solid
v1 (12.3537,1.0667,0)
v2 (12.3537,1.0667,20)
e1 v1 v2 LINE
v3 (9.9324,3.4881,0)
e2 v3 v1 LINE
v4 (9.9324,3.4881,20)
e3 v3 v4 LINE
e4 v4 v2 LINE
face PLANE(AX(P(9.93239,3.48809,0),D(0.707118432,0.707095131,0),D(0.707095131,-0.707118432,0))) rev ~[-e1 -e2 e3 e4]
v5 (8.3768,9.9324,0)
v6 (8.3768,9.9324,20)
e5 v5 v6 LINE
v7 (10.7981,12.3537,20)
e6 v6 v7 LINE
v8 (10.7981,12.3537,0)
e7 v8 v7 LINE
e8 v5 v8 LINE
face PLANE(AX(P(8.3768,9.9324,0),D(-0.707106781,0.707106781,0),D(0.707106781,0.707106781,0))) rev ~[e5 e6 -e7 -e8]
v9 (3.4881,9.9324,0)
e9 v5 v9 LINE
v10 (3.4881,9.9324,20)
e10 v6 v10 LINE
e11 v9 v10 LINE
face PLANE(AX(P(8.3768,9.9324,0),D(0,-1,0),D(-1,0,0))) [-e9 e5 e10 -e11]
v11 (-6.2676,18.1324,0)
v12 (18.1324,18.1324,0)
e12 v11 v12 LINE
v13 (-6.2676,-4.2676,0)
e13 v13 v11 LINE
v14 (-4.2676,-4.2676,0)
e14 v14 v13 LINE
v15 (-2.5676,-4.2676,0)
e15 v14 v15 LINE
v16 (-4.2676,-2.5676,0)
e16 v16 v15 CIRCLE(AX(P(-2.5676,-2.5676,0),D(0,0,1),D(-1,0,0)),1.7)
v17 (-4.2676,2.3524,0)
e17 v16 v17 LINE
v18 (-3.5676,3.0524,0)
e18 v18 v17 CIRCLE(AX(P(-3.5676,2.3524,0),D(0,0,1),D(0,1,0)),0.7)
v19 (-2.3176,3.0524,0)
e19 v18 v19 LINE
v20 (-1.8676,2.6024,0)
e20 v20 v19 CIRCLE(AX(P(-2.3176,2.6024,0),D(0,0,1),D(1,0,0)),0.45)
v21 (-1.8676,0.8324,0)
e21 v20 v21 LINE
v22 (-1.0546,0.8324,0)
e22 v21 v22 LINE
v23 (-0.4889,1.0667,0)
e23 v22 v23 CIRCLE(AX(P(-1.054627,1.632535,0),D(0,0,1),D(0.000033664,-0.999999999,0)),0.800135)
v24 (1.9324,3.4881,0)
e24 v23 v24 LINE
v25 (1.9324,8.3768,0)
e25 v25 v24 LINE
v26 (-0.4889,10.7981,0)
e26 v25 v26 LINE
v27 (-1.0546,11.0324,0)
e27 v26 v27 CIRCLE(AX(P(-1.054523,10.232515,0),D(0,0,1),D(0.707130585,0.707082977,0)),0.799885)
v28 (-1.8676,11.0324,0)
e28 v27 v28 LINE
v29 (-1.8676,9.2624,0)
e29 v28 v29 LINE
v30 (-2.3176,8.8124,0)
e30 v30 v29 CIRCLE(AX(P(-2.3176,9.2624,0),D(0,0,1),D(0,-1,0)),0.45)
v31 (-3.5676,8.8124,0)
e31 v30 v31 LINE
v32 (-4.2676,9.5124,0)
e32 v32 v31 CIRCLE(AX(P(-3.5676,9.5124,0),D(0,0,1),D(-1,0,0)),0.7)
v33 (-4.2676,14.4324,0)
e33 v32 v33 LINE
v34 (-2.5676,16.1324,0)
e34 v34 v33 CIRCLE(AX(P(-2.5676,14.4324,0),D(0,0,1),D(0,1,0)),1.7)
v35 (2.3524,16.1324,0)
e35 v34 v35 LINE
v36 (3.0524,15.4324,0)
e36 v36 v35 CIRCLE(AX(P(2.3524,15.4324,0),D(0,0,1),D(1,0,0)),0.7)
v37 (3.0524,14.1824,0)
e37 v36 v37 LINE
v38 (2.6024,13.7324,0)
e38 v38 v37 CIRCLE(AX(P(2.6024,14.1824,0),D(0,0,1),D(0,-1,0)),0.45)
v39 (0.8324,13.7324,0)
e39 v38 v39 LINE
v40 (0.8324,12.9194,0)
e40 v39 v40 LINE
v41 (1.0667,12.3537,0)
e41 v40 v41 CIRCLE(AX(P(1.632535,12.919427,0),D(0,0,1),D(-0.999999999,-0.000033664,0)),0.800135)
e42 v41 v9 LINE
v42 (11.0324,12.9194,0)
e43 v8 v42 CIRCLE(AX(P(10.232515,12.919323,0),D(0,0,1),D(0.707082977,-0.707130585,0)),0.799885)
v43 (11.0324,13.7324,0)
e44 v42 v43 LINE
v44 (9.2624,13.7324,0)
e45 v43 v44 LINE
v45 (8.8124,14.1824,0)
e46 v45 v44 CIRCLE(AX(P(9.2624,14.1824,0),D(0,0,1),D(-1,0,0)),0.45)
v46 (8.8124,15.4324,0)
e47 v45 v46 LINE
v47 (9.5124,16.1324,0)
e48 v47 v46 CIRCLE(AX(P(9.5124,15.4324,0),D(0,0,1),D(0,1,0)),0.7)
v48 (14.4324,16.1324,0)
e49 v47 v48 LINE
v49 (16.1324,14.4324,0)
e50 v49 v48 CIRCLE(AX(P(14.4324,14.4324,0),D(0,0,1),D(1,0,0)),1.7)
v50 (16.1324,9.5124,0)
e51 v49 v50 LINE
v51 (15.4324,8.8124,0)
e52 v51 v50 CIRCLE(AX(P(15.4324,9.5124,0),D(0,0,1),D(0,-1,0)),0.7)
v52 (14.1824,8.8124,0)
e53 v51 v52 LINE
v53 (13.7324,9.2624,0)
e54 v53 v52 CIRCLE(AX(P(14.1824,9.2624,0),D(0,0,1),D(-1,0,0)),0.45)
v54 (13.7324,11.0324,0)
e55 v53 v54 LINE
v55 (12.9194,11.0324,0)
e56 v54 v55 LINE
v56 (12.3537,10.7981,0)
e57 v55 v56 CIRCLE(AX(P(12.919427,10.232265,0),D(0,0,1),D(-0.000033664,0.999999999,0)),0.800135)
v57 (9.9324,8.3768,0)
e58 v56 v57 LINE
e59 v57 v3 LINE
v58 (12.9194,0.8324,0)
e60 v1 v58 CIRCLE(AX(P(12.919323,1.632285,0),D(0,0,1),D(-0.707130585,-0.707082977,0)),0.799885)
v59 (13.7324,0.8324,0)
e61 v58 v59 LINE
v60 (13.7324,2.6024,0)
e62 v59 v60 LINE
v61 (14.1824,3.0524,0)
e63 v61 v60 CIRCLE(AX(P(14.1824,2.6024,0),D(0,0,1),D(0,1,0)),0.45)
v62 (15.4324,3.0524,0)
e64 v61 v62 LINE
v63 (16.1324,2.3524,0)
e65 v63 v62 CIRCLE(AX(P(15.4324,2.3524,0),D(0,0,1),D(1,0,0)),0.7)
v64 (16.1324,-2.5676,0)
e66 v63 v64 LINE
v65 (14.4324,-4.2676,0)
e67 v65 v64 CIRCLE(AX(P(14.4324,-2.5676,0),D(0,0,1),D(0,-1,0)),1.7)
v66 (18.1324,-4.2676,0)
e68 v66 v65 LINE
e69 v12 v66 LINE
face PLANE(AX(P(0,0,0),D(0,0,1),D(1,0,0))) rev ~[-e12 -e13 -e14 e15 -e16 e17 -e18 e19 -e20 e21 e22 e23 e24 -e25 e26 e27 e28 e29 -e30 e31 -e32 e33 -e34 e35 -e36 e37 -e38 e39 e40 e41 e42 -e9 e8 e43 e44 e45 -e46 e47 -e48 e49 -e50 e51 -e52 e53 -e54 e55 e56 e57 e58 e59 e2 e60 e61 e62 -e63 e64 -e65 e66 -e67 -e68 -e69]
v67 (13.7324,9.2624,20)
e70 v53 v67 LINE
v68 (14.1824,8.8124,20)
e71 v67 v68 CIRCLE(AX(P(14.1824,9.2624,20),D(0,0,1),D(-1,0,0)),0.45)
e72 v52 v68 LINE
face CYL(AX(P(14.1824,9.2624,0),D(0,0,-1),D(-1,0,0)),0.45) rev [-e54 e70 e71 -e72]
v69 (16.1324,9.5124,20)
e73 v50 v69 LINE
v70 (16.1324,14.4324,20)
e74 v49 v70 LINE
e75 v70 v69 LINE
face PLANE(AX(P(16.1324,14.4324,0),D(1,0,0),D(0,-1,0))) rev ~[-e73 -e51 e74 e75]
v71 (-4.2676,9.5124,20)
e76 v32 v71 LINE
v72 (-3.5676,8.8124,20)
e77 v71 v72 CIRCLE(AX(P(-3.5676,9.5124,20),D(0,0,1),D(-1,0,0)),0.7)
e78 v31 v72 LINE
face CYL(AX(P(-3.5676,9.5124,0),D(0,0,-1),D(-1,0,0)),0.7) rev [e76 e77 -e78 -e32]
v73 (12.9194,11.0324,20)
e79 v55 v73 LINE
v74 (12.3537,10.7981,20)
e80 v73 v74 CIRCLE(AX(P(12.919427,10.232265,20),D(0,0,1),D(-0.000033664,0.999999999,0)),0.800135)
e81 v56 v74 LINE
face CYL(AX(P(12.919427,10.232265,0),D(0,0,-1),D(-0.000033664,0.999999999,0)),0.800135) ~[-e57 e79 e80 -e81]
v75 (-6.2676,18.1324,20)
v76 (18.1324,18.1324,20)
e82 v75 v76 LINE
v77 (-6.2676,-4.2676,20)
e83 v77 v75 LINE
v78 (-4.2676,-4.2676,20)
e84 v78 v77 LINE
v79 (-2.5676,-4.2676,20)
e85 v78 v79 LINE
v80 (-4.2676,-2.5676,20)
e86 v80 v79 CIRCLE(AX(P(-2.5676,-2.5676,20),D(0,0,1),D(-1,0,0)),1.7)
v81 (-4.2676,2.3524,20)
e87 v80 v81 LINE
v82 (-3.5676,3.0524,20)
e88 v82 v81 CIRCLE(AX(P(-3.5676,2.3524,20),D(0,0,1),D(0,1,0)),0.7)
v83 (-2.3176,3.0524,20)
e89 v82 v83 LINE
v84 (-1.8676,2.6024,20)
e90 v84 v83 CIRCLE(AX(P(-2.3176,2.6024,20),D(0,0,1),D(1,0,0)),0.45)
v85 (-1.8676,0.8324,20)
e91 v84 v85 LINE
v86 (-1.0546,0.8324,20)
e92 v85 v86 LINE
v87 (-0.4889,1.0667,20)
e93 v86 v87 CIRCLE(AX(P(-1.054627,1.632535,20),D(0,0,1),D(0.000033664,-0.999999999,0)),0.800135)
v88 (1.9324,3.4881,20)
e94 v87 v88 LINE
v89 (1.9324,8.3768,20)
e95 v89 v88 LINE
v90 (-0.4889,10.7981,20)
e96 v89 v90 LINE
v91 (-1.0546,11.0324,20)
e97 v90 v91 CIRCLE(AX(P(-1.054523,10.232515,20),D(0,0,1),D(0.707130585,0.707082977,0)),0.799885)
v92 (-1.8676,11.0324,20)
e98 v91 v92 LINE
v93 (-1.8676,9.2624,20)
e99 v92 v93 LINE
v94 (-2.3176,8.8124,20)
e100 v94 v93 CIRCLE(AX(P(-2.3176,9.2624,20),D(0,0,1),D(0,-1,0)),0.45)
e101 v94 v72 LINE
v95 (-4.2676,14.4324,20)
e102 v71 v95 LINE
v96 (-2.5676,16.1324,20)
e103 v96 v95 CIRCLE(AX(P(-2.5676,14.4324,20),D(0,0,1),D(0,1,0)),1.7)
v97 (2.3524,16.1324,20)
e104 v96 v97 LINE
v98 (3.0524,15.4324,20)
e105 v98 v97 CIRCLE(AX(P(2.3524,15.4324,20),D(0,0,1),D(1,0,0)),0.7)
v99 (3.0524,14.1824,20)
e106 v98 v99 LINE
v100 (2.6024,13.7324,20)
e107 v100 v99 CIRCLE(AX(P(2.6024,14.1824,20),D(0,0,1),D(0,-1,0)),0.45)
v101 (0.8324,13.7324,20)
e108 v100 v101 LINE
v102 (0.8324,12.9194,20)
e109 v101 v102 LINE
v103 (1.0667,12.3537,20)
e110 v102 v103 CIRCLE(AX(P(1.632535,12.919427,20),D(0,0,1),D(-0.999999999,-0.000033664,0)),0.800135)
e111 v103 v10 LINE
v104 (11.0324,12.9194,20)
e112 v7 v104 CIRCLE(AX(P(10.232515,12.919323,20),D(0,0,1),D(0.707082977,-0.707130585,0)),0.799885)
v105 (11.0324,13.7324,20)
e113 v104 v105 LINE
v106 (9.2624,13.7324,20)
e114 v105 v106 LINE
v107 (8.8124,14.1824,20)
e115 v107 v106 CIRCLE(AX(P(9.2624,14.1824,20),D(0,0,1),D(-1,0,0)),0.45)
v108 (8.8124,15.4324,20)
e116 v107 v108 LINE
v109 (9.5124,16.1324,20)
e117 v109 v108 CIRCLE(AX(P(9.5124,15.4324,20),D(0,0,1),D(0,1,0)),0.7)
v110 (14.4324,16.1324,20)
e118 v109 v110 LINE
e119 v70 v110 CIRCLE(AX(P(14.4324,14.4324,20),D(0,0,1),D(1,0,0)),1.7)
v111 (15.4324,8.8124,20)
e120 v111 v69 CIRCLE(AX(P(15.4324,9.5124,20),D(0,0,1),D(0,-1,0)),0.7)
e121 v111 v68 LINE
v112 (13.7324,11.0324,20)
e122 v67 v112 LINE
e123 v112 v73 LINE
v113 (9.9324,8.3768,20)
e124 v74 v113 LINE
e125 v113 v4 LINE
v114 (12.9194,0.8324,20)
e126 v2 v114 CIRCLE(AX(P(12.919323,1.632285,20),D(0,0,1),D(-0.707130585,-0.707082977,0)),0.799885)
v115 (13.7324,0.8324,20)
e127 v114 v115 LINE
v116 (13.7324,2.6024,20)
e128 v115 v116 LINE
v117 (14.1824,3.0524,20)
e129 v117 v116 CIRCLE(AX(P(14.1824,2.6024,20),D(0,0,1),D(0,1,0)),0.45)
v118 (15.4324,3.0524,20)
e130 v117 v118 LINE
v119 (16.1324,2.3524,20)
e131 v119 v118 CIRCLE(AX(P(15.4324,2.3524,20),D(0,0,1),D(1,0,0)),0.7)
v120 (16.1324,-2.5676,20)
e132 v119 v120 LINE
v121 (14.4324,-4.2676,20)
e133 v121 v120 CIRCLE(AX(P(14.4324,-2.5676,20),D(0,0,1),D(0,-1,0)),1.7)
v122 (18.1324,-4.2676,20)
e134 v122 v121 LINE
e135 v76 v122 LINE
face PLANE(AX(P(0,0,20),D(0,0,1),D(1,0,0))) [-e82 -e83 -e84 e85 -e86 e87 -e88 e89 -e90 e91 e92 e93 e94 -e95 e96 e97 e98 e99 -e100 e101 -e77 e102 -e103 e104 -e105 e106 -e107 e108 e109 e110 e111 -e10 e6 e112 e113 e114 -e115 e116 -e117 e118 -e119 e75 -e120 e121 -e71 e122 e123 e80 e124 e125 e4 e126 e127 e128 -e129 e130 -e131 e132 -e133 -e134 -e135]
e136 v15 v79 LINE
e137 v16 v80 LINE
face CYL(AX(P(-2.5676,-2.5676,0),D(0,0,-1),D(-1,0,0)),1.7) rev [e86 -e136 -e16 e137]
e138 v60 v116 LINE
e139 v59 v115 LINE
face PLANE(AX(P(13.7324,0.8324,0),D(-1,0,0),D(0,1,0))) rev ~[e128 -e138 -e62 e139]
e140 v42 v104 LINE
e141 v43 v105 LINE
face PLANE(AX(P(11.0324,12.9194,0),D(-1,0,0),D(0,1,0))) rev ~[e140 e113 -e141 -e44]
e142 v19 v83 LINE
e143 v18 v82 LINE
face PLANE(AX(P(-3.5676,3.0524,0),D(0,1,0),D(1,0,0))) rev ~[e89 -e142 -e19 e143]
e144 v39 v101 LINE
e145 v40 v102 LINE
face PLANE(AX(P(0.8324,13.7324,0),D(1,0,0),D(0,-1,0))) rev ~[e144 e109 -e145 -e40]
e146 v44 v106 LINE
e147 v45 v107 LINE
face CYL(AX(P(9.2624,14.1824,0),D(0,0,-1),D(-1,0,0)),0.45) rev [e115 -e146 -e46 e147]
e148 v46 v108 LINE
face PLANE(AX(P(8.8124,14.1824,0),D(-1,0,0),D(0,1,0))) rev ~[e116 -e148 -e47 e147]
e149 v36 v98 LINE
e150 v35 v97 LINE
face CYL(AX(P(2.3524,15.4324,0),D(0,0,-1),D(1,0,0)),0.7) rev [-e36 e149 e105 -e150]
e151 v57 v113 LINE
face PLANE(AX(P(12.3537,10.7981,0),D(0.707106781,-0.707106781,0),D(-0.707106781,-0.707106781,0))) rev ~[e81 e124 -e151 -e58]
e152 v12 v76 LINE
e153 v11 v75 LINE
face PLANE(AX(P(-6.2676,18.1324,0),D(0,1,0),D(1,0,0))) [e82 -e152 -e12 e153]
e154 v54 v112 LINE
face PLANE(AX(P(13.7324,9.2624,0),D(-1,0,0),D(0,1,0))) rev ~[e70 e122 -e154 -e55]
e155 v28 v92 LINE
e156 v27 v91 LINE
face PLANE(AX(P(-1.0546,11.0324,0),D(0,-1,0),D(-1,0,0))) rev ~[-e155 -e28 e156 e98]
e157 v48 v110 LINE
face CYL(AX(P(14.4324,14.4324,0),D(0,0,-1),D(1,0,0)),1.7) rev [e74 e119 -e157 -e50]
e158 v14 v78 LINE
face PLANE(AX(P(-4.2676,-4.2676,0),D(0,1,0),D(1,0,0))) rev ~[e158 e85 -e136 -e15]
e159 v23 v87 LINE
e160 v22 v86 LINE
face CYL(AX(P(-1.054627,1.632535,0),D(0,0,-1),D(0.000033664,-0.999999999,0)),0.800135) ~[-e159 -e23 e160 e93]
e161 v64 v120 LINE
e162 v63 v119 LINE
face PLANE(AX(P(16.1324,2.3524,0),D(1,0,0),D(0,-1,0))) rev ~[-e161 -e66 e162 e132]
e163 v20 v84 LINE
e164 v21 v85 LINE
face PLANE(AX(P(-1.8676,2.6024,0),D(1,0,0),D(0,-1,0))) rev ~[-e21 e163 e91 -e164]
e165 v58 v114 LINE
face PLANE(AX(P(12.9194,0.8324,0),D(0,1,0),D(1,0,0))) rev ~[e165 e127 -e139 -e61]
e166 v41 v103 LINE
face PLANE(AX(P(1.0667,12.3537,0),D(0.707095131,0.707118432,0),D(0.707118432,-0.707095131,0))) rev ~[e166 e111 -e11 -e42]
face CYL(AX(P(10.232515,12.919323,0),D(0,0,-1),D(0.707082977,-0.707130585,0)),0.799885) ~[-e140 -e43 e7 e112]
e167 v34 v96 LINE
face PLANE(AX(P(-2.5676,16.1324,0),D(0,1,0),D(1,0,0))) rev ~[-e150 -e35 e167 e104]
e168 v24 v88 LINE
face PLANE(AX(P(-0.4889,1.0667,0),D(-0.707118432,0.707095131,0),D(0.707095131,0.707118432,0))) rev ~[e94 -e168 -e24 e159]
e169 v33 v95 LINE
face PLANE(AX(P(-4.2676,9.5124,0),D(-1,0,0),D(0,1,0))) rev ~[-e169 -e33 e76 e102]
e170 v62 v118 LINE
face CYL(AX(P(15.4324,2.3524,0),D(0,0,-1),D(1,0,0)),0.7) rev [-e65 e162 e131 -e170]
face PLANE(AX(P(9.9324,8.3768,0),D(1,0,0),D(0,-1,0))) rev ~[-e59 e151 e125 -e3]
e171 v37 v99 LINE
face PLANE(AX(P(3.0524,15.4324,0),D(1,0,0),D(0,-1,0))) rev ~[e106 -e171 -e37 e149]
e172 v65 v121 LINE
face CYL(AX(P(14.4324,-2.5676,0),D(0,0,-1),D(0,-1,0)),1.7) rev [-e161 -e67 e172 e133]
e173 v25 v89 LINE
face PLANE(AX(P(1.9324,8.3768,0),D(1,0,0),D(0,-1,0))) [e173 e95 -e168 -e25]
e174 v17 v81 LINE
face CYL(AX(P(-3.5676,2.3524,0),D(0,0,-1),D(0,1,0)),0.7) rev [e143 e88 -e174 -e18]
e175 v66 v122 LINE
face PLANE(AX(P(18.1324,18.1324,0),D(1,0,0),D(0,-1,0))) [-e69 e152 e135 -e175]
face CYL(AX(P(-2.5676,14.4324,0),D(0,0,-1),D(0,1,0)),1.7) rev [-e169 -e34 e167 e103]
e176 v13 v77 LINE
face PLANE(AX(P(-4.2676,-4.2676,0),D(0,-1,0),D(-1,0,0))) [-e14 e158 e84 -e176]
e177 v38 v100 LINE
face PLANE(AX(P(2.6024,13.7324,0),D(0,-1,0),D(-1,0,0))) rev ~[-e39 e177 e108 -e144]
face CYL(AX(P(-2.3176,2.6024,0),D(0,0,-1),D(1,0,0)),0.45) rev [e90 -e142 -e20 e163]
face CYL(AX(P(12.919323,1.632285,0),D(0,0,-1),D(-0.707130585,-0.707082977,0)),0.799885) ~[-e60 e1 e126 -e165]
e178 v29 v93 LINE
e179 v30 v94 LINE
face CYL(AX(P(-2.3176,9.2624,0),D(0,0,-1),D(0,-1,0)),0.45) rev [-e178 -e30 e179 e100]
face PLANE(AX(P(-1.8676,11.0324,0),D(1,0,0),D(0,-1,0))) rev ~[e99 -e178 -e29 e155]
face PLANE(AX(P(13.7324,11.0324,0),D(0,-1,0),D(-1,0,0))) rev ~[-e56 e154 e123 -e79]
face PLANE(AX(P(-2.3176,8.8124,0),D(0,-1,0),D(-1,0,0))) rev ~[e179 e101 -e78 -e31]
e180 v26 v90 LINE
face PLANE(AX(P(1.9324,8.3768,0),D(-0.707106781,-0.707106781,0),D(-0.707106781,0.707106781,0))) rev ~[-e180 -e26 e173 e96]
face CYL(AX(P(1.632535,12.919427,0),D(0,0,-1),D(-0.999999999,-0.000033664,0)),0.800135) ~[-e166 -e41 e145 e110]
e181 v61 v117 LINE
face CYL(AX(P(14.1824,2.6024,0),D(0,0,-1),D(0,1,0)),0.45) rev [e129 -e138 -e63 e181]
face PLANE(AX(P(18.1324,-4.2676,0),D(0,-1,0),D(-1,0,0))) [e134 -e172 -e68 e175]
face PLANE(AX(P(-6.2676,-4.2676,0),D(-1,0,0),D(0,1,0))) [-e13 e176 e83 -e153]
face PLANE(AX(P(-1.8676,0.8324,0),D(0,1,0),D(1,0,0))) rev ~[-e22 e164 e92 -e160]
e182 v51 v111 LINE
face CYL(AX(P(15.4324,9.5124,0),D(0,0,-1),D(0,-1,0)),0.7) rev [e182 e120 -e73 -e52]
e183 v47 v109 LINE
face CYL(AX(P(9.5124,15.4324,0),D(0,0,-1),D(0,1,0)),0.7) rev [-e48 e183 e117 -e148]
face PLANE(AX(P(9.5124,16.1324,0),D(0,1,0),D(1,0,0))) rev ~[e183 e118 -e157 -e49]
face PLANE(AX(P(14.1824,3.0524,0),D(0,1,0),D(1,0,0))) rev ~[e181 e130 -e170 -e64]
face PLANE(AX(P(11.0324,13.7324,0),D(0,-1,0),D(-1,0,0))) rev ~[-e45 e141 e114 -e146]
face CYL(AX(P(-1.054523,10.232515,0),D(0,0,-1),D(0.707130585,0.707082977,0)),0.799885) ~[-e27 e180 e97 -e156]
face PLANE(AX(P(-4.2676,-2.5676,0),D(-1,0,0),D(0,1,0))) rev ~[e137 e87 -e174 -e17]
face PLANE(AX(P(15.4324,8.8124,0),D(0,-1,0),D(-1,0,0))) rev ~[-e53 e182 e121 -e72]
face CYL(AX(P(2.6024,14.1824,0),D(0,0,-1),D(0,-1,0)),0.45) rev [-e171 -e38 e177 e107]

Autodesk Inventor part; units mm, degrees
ref_plane "YZ Plane" through (0, 0, 0) normal (1, 0, 0) x (0, 1, 0)
ref_plane "XZ Plane" through (0, 0, 0) normal (0, 1, 0) x (-1, 0, 0)
ref_plane "XY Plane" through (0, 0, 0) normal (0, 0, 1) x (1, 0, 0)
sketch "Sketch1" plane through (0, 0, 0) normal (0, 0, 1) x (1, 0, 0)
  arc A0 (-1.0546, 0.6324) -> (-0.3475, 0.9253) centre (-1.0546, 1.6324) ccw projected
  line L0 (-1.0546, 0.6324) -> (-1.8676, 0.6324) projected
  arc A1 (-2.0676, 0.8324) -> (-1.8676, 0.6324) centre (-1.8676, 0.8324) ccw projected
  line L1 (-2.0676, 0.8324) -> (-2.0676, 2.6024) projected
  arc A2 (-2.0676, 2.6024) -> (-2.3176, 2.8524) centre (-2.3176, 2.6024) ccw projected
  line L2 (-2.3176, 2.8524) -> (-3.5676, 2.8524) projected
  arc A3 (-3.5676, 2.8524) -> (-4.0676, 2.3524) centre (-3.5676, 2.3524) ccw projected
  line L3 (-4.0676, 2.3524) -> (-4.0676, -2.5676) projected
  arc A4 (-4.0676, -2.5676) -> (-2.5676, -4.0676) centre (-2.5676, -2.5676) ccw projected
  line L4 (-2.5676, -4.0676) -> (2.3524, -4.0676) projected
  arc A5 (2.3524, -4.0676) -> (2.8524, -3.5676) centre (2.3524, -3.5676) ccw projected
  line L5 (2.8524, -3.5676) -> (2.8524, -2.3176) projected
  arc A6 (2.8524, -2.3176) -> (2.6024, -2.0676) centre (2.6024, -2.3176) ccw projected
  line L6 (2.6024, -2.0676) -> (0.8324, -2.0676) projected
  arc A7 (0.6324, -1.8676) -> (0.8324, -2.0676) centre (0.8324, -1.8676) ccw projected
  line L7 (0.6324, -1.8676) -> (0.6324, -1.0546) projected
  arc A8 (0.9253, -0.3475) -> (0.6324, -1.0546) centre (1.6324, -1.0546) ccw projected
  line L8 (0.9253, -0.3475) -> (4.0676, 2.7948) projected
  arc A9 (4.0676, 2.7948) -> (5.6798, 2.2912) centre (5.9324, 5.9324) ccw projected
  line L9 (5.6798, 2.2912) -> (5.9324, 2.491) projected
  line L10 (5.9324, 2.491) -> (6.1851, 2.2912) projected
  arc A10 (6.1851, 2.2912) -> (7.7973, 2.7948) centre (5.9324, 5.9324) ccw projected
  line L11 (7.7973, 2.7948) -> (10.9395, -0.3475) projected
  arc A11 (11.2324, -1.0546) -> (10.9395, -0.3475) centre (10.2324, -1.0546) ccw projected
  line L12 (11.2324, -1.0546) -> (11.2324, -1.8676) projected
  arc A12 (11.0324, -2.0676) -> (11.2324, -1.8676) centre (11.0324, -1.8676) ccw projected
  line L13 (11.0324, -2.0676) -> (9.2624, -2.0676) projected
  arc A13 (9.2624, -2.0676) -> (9.0124, -2.3176) centre (9.2624, -2.3176) ccw projected
  line L14 (9.0124, -2.3176) -> (9.0124, -3.5676) projected
  arc A14 (9.0124, -3.5676) -> (9.5124, -4.0676) centre (9.5124, -3.5676) ccw projected
  line L15 (9.5124, -4.0676) -> (14.4324, -4.0676) projected
  arc A15 (14.4324, -4.0676) -> (15.9324, -2.5676) centre (14.4324, -2.5676) ccw projected
  line L16 (15.9324, -2.5676) -> (15.9324, 2.3524) projected
  arc A16 (15.9324, 2.3524) -> (15.4324, 2.8524) centre (15.4324, 2.3524) ccw projected
  line L17 (15.4324, 2.8524) -> (14.1824, 2.8524) projected
  arc A17 (14.1824, 2.8524) -> (13.9324, 2.6024) centre (14.1824, 2.6024) ccw projected
  line L18 (13.9324, 2.6024) -> (13.9324, 0.8324) projected
  arc A18 (13.7324, 0.6324) -> (13.9324, 0.8324) centre (13.7324, 0.8324) ccw projected
  line L19 (13.7324, 0.6324) -> (12.9194, 0.6324) projected
  arc A19 (12.2123, 0.9253) -> (12.9194, 0.6324) centre (12.9194, 1.6324) ccw projected
  line L20 (12.2123, 0.9253) -> (9.0701, 4.0676) projected
  arc A20 (9.0701, 4.0676) -> (9.5737, 5.6798) centre (5.9324, 5.9324) ccw projected
  line L21 (9.5737, 5.6798) -> (9.3739, 5.9324) projected
  line L22 (9.3739, 5.9324) -> (9.5739, 6.1824) projected
  arc A21 (9.5739, 6.1824) -> (9.0701, 7.7973) centre (5.9324, 5.9324) ccw projected
  line L23 (9.0701, 7.7973) -> (12.2123, 10.9395) projected
  arc A22 (12.9194, 11.2324) -> (12.2123, 10.9395) centre (12.9194, 10.2324) ccw projected
  line L24 (12.9194, 11.2324) -> (13.7324, 11.2324) projected
  arc A23 (13.9324, 11.0324) -> (13.7324, 11.2324) centre (13.7324, 11.0324) ccw projected
  line L25 (13.9324, 11.0324) -> (13.9324, 9.2624) projected
  arc A24 (13.9324, 9.2624) -> (14.1824, 9.0124) centre (14.1824, 9.2624) ccw projected
  line L26 (14.1824, 9.0124) -> (15.4324, 9.0124) projected
  arc A25 (15.4324, 9.0124) -> (15.9324, 9.5124) centre (15.4324, 9.5124) ccw projected
  line L27 (15.9324, 9.5124) -> (15.9324, 14.4324) projected
  arc A26 (15.9324, 14.4324) -> (14.4324, 15.9324) centre (14.4324, 14.4324) ccw projected
  line L28 (14.4324, 15.9324) -> (9.5124, 15.9324) projected
  arc A27 (9.5124, 15.9324) -> (9.0124, 15.4324) centre (9.5124, 15.4324) ccw projected
  line L29 (9.0124, 15.4324) -> (9.0124, 14.1824) projected
  arc A28 (9.0124, 14.1824) -> (9.2624, 13.9324) centre (9.2624, 14.1824) ccw projected
  line L30 (9.2624, 13.9324) -> (11.0324, 13.9324) projected
  arc A29 (11.2324, 13.7324) -> (11.0324, 13.9324) centre (11.0324, 13.7324) ccw projected
  line L31 (11.2324, 13.7324) -> (11.2324, 12.9194) projected
  arc A30 (10.9395, 12.2123) -> (11.2324, 12.9194) centre (10.2324, 12.9194) ccw projected
  line L32 (10.9395, 12.2123) -> (7.7973, 9.0701) projected
  arc A31 (7.7973, 9.0701) -> (6.1824, 9.5739) centre (5.9324, 5.9324) ccw projected
  line L33 (6.1824, 9.5739) -> (5.9324, 9.3739) projected
  line L34 (5.9324, 9.3739) -> (5.6824, 9.5739) projected
  arc A32 (5.6824, 9.5739) -> (4.0676, 9.0701) centre (5.9324, 5.9324) ccw projected
  line L35 (4.0676, 9.0701) -> (0.9253, 12.2123) projected
  arc A33 (0.6324, 12.9194) -> (0.9253, 12.2123) centre (1.6324, 12.9194) ccw projected
  line L36 (0.6324, 12.9194) -> (0.6324, 13.7324) projected
  arc A34 (0.8324, 13.9324) -> (0.6324, 13.7324) centre (0.8324, 13.7324) ccw projected
  line L37 (0.8324, 13.9324) -> (2.6024, 13.9324) projected
  arc A35 (2.6024, 13.9324) -> (2.8524, 14.1824) centre (2.6024, 14.1824) ccw projected
  line L38 (2.8524, 14.1824) -> (2.8524, 15.4324) projected
  arc A36 (2.8524, 15.4324) -> (2.3524, 15.9324) centre (2.3524, 15.4324) ccw projected
  line L39 (2.3524, 15.9324) -> (-2.5676, 15.9324) projected
  arc A37 (-2.5676, 15.9324) -> (-4.0676, 14.4324) centre (-2.5676, 14.4324) ccw projected
  line L40 (-4.0676, 14.4324) -> (-4.0676, 9.5124) projected
  arc A38 (-4.0676, 9.5124) -> (-3.5676, 9.0124) centre (-3.5676, 9.5124) ccw projected
  line L41 (-3.5676, 9.0124) -> (-2.3176, 9.0124) projected
  arc A39 (-2.3176, 9.0124) -> (-2.0676, 9.2624) centre (-2.3176, 9.2624) ccw projected
  line L42 (-2.0676, 9.2624) -> (-2.0676, 11.0324) projected
  arc A40 (-1.8676, 11.2324) -> (-2.0676, 11.0324) centre (-1.8676, 11.0324) ccw projected
  line L43 (-1.8676, 11.2324) -> (-1.0546, 11.2324) projected
  arc A41 (-0.3475, 10.9395) -> (-1.0546, 11.2324) centre (-1.0546, 10.2324) ccw projected
  line L44 (-0.3475, 10.9395) -> (2.7948, 7.7973) projected
  arc A42 (2.7948, 7.7973) -> (2.291, 6.1824) centre (5.9324, 5.9324) ccw projected
  line L45 (2.291, 6.1824) -> (2.491, 5.9324) projected
  line L46 (2.491, 5.9324) -> (2.2912, 5.6798) projected
  arc A43 (2.2912, 5.6798) -> (2.7948, 4.0676) centre (5.9324, 5.9324) ccw projected
  line L47 (2.7948, 4.0676) -> (-0.3475, 0.9253) projected
  circle A44 centre (5.9324, 5.9324) radius 2.5 projected
  line L48 (-1.0546, 11.0324) -> (-1.8676, 11.0324)
  line L49 (-1.8676, 11.0324) -> (-1.8676, 9.2624)
  arc A45 (-2.3176, 8.8124) -> (-1.8676, 9.2624) centre (-2.3176, 9.2624) ccw
  line L50 (-2.3176, 8.8124) -> (-3.5676, 8.8124)
  arc A46 (-4.2676, 9.5124) -> (-3.5676, 8.8124) centre (-3.5676, 9.5124) ccw
  line L51 (-4.2676, 9.5124) -> (-4.2676, 14.4324)
  arc A47 (-2.5676, 16.1324) -> (-4.2676, 14.4324) centre (-2.5676, 14.4324) ccw
  line L52 (-2.5676, 16.1324) -> (2.3524, 16.1324)
  arc A48 (3.0524, 15.4324) -> (2.3524, 16.1324) centre (2.3524, 15.4324) ccw
  line L53 (3.0524, 15.4324) -> (3.0524, 14.1824)
  arc A49 (2.6024, 13.7324) -> (3.0524, 14.1824) centre (2.6024, 14.1824) ccw
  line L54 (2.6024, 13.7324) -> (0.8324, 13.7324)
  line L55 (0.8324, 13.7324) -> (0.8324, 12.9194)
  arc A50 (0.8324, 12.9194) -> (1.0667, 12.3537) centre (1.6324, 12.9194) ccw
  line L56 (1.0667, 12.3537) -> (4.1014, 9.3191)
  arc A51 (5.7474, 9.778) -> (4.1014, 9.3191) centre (5.9324, 5.9324) ccw
  line L57 (5.7474, 9.778) -> (5.9324, 9.63)
  line L58 (5.9324, 9.63) -> (6.1174, 9.778)
  arc A52 (7.7635, 9.3191) -> (6.1174, 9.778) centre (5.9324, 5.9324) ccw
  line L59 (7.7635, 9.3191) -> (10.7981, 12.3537)
  arc A53 (10.7981, 12.3537) -> (11.0324, 12.9194) centre (10.2324, 12.9194) ccw
  line L60 (11.0324, 12.9194) -> (11.0324, 13.7324)
  line L61 (11.0324, 13.7324) -> (9.2624, 13.7324)
  arc A54 (8.8124, 14.1824) -> (9.2624, 13.7324) centre (9.2624, 14.1824) ccw
  line L62 (8.8124, 14.1824) -> (8.8124, 15.4324)
  arc A55 (9.5124, 16.1324) -> (8.8124, 15.4324) centre (9.5124, 15.4324) ccw
  line L63 (9.5124, 16.1324) -> (14.4324, 16.1324)
  arc A56 (16.1324, 14.4324) -> (14.4324, 16.1324) centre (14.4324, 14.4324) ccw
  line L64 (16.1324, 14.4324) -> (16.1324, 9.5124)
  arc A57 (15.4324, 8.8124) -> (16.1324, 9.5124) centre (15.4324, 9.5124) ccw
  line L65 (15.4324, 8.8124) -> (14.1824, 8.8124)
  arc A58 (13.7324, 9.2624) -> (14.1824, 8.8124) centre (14.1824, 9.2624) ccw
  line L66 (13.7324, 9.2624) -> (13.7324, 11.0324)
  line L67 (13.7324, 11.0324) -> (12.9194, 11.0324)
  arc A59 (12.9194, 11.0324) -> (12.3537, 10.7981) centre (12.9194, 10.2324) ccw
  line L68 (12.3537, 10.7981) -> (9.3191, 7.7635)
  arc A60 (9.778, 6.1174) -> (9.3191, 7.7635) centre (5.9324, 5.9324) ccw
  line L69 (9.778, 6.1174) -> (9.6294, 5.9317)
  line L70 (9.6294, 5.9317) -> (9.7778, 5.7441)
  arc A61 (9.3191, 4.1014) -> (9.7778, 5.7441) centre (5.9324, 5.9324) ccw
  line L71 (9.3191, 4.1014) -> (12.3537, 1.0667)
  arc A62 (12.3537, 1.0667) -> (12.9194, 0.8324) centre (12.9194, 1.6324) ccw
  line L72 (12.9194, 0.8324) -> (13.7324, 0.8324)
  line L73 (13.7324, 0.8324) -> (13.7324, 2.6024)
  arc A63 (14.1824, 3.0524) -> (13.7324, 2.6024) centre (14.1824, 2.6024) ccw
  line L74 (14.1824, 3.0524) -> (15.4324, 3.0524)
  arc A64 (16.1324, 2.3524) -> (15.4324, 3.0524) centre (15.4324, 2.3524) ccw
  line L75 (16.1324, 2.3524) -> (16.1324, -2.5676)
  arc A65 (14.4324, -4.2676) -> (16.1324, -2.5676) centre (14.4324, -2.5676) ccw
  line L76 (14.4324, -4.2676) -> (9.5124, -4.2676)
  arc A66 (8.8124, -3.5676) -> (9.5124, -4.2676) centre (9.5124, -3.5676) ccw
  line L77 (8.8124, -3.5676) -> (8.8124, -2.3176)
  arc A67 (9.2624, -1.8676) -> (8.8124, -2.3176) centre (9.2624, -2.3176) ccw
  line L78 (9.2624, -1.8676) -> (11.0324, -1.8676)
  line L79 (11.0324, -1.8676) -> (11.0324, -1.0546)
  arc A68 (11.0324, -1.0546) -> (10.7981, -0.4889) centre (10.2324, -1.0546) ccw
  line L80 (10.7981, -0.4889) -> (7.7635, 2.5457)
  arc A69 (6.1208, 2.087) -> (7.7635, 2.5457) centre (5.9324, 5.9324) ccw
  line L81 (6.1208, 2.087) -> (5.9324, 2.236)
  line L82 (5.9324, 2.236) -> (5.7441, 2.087)
  arc A70 (4.1014, 2.5457) -> (5.7441, 2.087) centre (5.9324, 5.9324) ccw
  line L83 (4.1014, 2.5457) -> (1.0667, -0.4889)
  arc A71 (1.0667, -0.4889) -> (0.8324, -1.0546) centre (1.6324, -1.0546) ccw
  line L84 (0.8324, -1.0546) -> (0.8324, -1.8676)
  line L85 (0.8324, -1.8676) -> (2.6024, -1.8676)
  arc A72 (3.0524, -2.3176) -> (2.6024, -1.8676) centre (2.6024, -2.3176) ccw
  line L86 (3.0524, -2.3176) -> (3.0524, -3.5676)
  arc A73 (2.3524, -4.2676) -> (3.0524, -3.5676) centre (2.3524, -3.5676) ccw
  line L87 (2.3524, -4.2676) -> (-2.5676, -4.2676)
  arc A74 (-4.2676, -2.5676) -> (-2.5676, -4.2676) centre (-2.5676, -2.5676) ccw
  line L88 (-4.2676, -2.5676) -> (-4.2676, 2.3524)
  arc A75 (-3.5676, 3.0524) -> (-4.2676, 2.3524) centre (-3.5676, 2.3524) ccw
  line L89 (-3.5676, 3.0524) -> (-2.3176, 3.0524)
  arc A76 (-1.8676, 2.6024) -> (-2.3176, 3.0524) centre (-2.3176, 2.6024) ccw
  line L90 (-1.8676, 2.6024) -> (-1.8676, 0.8324)
  line L91 (-1.8676, 0.8324) -> (-1.0546, 0.8324)
  arc A77 (-1.0546, 0.8324) -> (-0.4889, 1.0667) centre (-1.0546, 1.6324) ccw
  line L92 (-0.4889, 1.0667) -> (2.5457, 4.1014)
  arc A78 (2.087, 5.7441) -> (2.5457, 4.1014) centre (5.9324, 5.9324) ccw
  line L93 (2.087, 5.7441) -> (2.2354, 5.9317)
  line L94 (2.2354, 5.9317) -> (2.0869, 6.1174)
  arc A79 (2.5457, 7.7635) -> (2.0869, 6.1174) centre (5.9324, 5.9324) ccw
  line L95 (2.5457, 7.7635) -> (-0.4889, 10.7981)
  arc A80 (-0.4889, 10.7981) -> (-1.0546, 11.0324) centre (-1.0546, 10.2324) ccw
  line L96 (-4.2676, -4.2676) -> (-6.2676, -4.2676)
  line L97 (-6.2676, -4.2676) -> (-6.2676, 18.1324)
  line L98 (-6.2676, 18.1324) -> (18.1324, 18.1324)
  line L99 (18.1324, 18.1324) -> (18.1324, -4.2676)
  line L100 (18.1324, -4.2676) -> (14.4324, -4.2676)
  line L101 (-4.2676, -4.2676) -> (-2.5676, -4.2676)
  line L102 (5.9324, 5.9324) -> (1.9324, 5.9324) construction
  line L103 (1.9324, 8.3768) -> (1.9324, 3.4881)
  line L104 (9.9324, 8.3768) -> (9.9324, 3.4881)
  line L105 (8.3768, 9.9324) -> (3.4881, 9.9324)
  line L106 (5.9324, 5.9324) -> (5.9324, 9.9324) construction
  point P0 (0, 0)
  dimension "d0" = 0.2
  dimension "d1" = 2
  dimension "d2" = 22.4
  dimension "d3" = 24.4
  dimension "d4" = 4
  dimension "d5" = 4
extrude "Extrusion1" add sketch "Sketch1" along normal blind 20 contours A80 L95 L103 L92 A77 L91 L90 A76 L89 A75 L88 A74 L101 L96 L97 L98 L99 L100 A65 L75 A64 L74 A63 L73 L72 A62 L71 L104 L68 A59 L67 L66 A58 L65 A57 L64 A56 L63 A55 L62 A54 L61 L60 A53 L59 L105 L56 A50 L55 L54 A49 L53 A48 L52 A47 L51 A46 L50 A45 L49 L48
